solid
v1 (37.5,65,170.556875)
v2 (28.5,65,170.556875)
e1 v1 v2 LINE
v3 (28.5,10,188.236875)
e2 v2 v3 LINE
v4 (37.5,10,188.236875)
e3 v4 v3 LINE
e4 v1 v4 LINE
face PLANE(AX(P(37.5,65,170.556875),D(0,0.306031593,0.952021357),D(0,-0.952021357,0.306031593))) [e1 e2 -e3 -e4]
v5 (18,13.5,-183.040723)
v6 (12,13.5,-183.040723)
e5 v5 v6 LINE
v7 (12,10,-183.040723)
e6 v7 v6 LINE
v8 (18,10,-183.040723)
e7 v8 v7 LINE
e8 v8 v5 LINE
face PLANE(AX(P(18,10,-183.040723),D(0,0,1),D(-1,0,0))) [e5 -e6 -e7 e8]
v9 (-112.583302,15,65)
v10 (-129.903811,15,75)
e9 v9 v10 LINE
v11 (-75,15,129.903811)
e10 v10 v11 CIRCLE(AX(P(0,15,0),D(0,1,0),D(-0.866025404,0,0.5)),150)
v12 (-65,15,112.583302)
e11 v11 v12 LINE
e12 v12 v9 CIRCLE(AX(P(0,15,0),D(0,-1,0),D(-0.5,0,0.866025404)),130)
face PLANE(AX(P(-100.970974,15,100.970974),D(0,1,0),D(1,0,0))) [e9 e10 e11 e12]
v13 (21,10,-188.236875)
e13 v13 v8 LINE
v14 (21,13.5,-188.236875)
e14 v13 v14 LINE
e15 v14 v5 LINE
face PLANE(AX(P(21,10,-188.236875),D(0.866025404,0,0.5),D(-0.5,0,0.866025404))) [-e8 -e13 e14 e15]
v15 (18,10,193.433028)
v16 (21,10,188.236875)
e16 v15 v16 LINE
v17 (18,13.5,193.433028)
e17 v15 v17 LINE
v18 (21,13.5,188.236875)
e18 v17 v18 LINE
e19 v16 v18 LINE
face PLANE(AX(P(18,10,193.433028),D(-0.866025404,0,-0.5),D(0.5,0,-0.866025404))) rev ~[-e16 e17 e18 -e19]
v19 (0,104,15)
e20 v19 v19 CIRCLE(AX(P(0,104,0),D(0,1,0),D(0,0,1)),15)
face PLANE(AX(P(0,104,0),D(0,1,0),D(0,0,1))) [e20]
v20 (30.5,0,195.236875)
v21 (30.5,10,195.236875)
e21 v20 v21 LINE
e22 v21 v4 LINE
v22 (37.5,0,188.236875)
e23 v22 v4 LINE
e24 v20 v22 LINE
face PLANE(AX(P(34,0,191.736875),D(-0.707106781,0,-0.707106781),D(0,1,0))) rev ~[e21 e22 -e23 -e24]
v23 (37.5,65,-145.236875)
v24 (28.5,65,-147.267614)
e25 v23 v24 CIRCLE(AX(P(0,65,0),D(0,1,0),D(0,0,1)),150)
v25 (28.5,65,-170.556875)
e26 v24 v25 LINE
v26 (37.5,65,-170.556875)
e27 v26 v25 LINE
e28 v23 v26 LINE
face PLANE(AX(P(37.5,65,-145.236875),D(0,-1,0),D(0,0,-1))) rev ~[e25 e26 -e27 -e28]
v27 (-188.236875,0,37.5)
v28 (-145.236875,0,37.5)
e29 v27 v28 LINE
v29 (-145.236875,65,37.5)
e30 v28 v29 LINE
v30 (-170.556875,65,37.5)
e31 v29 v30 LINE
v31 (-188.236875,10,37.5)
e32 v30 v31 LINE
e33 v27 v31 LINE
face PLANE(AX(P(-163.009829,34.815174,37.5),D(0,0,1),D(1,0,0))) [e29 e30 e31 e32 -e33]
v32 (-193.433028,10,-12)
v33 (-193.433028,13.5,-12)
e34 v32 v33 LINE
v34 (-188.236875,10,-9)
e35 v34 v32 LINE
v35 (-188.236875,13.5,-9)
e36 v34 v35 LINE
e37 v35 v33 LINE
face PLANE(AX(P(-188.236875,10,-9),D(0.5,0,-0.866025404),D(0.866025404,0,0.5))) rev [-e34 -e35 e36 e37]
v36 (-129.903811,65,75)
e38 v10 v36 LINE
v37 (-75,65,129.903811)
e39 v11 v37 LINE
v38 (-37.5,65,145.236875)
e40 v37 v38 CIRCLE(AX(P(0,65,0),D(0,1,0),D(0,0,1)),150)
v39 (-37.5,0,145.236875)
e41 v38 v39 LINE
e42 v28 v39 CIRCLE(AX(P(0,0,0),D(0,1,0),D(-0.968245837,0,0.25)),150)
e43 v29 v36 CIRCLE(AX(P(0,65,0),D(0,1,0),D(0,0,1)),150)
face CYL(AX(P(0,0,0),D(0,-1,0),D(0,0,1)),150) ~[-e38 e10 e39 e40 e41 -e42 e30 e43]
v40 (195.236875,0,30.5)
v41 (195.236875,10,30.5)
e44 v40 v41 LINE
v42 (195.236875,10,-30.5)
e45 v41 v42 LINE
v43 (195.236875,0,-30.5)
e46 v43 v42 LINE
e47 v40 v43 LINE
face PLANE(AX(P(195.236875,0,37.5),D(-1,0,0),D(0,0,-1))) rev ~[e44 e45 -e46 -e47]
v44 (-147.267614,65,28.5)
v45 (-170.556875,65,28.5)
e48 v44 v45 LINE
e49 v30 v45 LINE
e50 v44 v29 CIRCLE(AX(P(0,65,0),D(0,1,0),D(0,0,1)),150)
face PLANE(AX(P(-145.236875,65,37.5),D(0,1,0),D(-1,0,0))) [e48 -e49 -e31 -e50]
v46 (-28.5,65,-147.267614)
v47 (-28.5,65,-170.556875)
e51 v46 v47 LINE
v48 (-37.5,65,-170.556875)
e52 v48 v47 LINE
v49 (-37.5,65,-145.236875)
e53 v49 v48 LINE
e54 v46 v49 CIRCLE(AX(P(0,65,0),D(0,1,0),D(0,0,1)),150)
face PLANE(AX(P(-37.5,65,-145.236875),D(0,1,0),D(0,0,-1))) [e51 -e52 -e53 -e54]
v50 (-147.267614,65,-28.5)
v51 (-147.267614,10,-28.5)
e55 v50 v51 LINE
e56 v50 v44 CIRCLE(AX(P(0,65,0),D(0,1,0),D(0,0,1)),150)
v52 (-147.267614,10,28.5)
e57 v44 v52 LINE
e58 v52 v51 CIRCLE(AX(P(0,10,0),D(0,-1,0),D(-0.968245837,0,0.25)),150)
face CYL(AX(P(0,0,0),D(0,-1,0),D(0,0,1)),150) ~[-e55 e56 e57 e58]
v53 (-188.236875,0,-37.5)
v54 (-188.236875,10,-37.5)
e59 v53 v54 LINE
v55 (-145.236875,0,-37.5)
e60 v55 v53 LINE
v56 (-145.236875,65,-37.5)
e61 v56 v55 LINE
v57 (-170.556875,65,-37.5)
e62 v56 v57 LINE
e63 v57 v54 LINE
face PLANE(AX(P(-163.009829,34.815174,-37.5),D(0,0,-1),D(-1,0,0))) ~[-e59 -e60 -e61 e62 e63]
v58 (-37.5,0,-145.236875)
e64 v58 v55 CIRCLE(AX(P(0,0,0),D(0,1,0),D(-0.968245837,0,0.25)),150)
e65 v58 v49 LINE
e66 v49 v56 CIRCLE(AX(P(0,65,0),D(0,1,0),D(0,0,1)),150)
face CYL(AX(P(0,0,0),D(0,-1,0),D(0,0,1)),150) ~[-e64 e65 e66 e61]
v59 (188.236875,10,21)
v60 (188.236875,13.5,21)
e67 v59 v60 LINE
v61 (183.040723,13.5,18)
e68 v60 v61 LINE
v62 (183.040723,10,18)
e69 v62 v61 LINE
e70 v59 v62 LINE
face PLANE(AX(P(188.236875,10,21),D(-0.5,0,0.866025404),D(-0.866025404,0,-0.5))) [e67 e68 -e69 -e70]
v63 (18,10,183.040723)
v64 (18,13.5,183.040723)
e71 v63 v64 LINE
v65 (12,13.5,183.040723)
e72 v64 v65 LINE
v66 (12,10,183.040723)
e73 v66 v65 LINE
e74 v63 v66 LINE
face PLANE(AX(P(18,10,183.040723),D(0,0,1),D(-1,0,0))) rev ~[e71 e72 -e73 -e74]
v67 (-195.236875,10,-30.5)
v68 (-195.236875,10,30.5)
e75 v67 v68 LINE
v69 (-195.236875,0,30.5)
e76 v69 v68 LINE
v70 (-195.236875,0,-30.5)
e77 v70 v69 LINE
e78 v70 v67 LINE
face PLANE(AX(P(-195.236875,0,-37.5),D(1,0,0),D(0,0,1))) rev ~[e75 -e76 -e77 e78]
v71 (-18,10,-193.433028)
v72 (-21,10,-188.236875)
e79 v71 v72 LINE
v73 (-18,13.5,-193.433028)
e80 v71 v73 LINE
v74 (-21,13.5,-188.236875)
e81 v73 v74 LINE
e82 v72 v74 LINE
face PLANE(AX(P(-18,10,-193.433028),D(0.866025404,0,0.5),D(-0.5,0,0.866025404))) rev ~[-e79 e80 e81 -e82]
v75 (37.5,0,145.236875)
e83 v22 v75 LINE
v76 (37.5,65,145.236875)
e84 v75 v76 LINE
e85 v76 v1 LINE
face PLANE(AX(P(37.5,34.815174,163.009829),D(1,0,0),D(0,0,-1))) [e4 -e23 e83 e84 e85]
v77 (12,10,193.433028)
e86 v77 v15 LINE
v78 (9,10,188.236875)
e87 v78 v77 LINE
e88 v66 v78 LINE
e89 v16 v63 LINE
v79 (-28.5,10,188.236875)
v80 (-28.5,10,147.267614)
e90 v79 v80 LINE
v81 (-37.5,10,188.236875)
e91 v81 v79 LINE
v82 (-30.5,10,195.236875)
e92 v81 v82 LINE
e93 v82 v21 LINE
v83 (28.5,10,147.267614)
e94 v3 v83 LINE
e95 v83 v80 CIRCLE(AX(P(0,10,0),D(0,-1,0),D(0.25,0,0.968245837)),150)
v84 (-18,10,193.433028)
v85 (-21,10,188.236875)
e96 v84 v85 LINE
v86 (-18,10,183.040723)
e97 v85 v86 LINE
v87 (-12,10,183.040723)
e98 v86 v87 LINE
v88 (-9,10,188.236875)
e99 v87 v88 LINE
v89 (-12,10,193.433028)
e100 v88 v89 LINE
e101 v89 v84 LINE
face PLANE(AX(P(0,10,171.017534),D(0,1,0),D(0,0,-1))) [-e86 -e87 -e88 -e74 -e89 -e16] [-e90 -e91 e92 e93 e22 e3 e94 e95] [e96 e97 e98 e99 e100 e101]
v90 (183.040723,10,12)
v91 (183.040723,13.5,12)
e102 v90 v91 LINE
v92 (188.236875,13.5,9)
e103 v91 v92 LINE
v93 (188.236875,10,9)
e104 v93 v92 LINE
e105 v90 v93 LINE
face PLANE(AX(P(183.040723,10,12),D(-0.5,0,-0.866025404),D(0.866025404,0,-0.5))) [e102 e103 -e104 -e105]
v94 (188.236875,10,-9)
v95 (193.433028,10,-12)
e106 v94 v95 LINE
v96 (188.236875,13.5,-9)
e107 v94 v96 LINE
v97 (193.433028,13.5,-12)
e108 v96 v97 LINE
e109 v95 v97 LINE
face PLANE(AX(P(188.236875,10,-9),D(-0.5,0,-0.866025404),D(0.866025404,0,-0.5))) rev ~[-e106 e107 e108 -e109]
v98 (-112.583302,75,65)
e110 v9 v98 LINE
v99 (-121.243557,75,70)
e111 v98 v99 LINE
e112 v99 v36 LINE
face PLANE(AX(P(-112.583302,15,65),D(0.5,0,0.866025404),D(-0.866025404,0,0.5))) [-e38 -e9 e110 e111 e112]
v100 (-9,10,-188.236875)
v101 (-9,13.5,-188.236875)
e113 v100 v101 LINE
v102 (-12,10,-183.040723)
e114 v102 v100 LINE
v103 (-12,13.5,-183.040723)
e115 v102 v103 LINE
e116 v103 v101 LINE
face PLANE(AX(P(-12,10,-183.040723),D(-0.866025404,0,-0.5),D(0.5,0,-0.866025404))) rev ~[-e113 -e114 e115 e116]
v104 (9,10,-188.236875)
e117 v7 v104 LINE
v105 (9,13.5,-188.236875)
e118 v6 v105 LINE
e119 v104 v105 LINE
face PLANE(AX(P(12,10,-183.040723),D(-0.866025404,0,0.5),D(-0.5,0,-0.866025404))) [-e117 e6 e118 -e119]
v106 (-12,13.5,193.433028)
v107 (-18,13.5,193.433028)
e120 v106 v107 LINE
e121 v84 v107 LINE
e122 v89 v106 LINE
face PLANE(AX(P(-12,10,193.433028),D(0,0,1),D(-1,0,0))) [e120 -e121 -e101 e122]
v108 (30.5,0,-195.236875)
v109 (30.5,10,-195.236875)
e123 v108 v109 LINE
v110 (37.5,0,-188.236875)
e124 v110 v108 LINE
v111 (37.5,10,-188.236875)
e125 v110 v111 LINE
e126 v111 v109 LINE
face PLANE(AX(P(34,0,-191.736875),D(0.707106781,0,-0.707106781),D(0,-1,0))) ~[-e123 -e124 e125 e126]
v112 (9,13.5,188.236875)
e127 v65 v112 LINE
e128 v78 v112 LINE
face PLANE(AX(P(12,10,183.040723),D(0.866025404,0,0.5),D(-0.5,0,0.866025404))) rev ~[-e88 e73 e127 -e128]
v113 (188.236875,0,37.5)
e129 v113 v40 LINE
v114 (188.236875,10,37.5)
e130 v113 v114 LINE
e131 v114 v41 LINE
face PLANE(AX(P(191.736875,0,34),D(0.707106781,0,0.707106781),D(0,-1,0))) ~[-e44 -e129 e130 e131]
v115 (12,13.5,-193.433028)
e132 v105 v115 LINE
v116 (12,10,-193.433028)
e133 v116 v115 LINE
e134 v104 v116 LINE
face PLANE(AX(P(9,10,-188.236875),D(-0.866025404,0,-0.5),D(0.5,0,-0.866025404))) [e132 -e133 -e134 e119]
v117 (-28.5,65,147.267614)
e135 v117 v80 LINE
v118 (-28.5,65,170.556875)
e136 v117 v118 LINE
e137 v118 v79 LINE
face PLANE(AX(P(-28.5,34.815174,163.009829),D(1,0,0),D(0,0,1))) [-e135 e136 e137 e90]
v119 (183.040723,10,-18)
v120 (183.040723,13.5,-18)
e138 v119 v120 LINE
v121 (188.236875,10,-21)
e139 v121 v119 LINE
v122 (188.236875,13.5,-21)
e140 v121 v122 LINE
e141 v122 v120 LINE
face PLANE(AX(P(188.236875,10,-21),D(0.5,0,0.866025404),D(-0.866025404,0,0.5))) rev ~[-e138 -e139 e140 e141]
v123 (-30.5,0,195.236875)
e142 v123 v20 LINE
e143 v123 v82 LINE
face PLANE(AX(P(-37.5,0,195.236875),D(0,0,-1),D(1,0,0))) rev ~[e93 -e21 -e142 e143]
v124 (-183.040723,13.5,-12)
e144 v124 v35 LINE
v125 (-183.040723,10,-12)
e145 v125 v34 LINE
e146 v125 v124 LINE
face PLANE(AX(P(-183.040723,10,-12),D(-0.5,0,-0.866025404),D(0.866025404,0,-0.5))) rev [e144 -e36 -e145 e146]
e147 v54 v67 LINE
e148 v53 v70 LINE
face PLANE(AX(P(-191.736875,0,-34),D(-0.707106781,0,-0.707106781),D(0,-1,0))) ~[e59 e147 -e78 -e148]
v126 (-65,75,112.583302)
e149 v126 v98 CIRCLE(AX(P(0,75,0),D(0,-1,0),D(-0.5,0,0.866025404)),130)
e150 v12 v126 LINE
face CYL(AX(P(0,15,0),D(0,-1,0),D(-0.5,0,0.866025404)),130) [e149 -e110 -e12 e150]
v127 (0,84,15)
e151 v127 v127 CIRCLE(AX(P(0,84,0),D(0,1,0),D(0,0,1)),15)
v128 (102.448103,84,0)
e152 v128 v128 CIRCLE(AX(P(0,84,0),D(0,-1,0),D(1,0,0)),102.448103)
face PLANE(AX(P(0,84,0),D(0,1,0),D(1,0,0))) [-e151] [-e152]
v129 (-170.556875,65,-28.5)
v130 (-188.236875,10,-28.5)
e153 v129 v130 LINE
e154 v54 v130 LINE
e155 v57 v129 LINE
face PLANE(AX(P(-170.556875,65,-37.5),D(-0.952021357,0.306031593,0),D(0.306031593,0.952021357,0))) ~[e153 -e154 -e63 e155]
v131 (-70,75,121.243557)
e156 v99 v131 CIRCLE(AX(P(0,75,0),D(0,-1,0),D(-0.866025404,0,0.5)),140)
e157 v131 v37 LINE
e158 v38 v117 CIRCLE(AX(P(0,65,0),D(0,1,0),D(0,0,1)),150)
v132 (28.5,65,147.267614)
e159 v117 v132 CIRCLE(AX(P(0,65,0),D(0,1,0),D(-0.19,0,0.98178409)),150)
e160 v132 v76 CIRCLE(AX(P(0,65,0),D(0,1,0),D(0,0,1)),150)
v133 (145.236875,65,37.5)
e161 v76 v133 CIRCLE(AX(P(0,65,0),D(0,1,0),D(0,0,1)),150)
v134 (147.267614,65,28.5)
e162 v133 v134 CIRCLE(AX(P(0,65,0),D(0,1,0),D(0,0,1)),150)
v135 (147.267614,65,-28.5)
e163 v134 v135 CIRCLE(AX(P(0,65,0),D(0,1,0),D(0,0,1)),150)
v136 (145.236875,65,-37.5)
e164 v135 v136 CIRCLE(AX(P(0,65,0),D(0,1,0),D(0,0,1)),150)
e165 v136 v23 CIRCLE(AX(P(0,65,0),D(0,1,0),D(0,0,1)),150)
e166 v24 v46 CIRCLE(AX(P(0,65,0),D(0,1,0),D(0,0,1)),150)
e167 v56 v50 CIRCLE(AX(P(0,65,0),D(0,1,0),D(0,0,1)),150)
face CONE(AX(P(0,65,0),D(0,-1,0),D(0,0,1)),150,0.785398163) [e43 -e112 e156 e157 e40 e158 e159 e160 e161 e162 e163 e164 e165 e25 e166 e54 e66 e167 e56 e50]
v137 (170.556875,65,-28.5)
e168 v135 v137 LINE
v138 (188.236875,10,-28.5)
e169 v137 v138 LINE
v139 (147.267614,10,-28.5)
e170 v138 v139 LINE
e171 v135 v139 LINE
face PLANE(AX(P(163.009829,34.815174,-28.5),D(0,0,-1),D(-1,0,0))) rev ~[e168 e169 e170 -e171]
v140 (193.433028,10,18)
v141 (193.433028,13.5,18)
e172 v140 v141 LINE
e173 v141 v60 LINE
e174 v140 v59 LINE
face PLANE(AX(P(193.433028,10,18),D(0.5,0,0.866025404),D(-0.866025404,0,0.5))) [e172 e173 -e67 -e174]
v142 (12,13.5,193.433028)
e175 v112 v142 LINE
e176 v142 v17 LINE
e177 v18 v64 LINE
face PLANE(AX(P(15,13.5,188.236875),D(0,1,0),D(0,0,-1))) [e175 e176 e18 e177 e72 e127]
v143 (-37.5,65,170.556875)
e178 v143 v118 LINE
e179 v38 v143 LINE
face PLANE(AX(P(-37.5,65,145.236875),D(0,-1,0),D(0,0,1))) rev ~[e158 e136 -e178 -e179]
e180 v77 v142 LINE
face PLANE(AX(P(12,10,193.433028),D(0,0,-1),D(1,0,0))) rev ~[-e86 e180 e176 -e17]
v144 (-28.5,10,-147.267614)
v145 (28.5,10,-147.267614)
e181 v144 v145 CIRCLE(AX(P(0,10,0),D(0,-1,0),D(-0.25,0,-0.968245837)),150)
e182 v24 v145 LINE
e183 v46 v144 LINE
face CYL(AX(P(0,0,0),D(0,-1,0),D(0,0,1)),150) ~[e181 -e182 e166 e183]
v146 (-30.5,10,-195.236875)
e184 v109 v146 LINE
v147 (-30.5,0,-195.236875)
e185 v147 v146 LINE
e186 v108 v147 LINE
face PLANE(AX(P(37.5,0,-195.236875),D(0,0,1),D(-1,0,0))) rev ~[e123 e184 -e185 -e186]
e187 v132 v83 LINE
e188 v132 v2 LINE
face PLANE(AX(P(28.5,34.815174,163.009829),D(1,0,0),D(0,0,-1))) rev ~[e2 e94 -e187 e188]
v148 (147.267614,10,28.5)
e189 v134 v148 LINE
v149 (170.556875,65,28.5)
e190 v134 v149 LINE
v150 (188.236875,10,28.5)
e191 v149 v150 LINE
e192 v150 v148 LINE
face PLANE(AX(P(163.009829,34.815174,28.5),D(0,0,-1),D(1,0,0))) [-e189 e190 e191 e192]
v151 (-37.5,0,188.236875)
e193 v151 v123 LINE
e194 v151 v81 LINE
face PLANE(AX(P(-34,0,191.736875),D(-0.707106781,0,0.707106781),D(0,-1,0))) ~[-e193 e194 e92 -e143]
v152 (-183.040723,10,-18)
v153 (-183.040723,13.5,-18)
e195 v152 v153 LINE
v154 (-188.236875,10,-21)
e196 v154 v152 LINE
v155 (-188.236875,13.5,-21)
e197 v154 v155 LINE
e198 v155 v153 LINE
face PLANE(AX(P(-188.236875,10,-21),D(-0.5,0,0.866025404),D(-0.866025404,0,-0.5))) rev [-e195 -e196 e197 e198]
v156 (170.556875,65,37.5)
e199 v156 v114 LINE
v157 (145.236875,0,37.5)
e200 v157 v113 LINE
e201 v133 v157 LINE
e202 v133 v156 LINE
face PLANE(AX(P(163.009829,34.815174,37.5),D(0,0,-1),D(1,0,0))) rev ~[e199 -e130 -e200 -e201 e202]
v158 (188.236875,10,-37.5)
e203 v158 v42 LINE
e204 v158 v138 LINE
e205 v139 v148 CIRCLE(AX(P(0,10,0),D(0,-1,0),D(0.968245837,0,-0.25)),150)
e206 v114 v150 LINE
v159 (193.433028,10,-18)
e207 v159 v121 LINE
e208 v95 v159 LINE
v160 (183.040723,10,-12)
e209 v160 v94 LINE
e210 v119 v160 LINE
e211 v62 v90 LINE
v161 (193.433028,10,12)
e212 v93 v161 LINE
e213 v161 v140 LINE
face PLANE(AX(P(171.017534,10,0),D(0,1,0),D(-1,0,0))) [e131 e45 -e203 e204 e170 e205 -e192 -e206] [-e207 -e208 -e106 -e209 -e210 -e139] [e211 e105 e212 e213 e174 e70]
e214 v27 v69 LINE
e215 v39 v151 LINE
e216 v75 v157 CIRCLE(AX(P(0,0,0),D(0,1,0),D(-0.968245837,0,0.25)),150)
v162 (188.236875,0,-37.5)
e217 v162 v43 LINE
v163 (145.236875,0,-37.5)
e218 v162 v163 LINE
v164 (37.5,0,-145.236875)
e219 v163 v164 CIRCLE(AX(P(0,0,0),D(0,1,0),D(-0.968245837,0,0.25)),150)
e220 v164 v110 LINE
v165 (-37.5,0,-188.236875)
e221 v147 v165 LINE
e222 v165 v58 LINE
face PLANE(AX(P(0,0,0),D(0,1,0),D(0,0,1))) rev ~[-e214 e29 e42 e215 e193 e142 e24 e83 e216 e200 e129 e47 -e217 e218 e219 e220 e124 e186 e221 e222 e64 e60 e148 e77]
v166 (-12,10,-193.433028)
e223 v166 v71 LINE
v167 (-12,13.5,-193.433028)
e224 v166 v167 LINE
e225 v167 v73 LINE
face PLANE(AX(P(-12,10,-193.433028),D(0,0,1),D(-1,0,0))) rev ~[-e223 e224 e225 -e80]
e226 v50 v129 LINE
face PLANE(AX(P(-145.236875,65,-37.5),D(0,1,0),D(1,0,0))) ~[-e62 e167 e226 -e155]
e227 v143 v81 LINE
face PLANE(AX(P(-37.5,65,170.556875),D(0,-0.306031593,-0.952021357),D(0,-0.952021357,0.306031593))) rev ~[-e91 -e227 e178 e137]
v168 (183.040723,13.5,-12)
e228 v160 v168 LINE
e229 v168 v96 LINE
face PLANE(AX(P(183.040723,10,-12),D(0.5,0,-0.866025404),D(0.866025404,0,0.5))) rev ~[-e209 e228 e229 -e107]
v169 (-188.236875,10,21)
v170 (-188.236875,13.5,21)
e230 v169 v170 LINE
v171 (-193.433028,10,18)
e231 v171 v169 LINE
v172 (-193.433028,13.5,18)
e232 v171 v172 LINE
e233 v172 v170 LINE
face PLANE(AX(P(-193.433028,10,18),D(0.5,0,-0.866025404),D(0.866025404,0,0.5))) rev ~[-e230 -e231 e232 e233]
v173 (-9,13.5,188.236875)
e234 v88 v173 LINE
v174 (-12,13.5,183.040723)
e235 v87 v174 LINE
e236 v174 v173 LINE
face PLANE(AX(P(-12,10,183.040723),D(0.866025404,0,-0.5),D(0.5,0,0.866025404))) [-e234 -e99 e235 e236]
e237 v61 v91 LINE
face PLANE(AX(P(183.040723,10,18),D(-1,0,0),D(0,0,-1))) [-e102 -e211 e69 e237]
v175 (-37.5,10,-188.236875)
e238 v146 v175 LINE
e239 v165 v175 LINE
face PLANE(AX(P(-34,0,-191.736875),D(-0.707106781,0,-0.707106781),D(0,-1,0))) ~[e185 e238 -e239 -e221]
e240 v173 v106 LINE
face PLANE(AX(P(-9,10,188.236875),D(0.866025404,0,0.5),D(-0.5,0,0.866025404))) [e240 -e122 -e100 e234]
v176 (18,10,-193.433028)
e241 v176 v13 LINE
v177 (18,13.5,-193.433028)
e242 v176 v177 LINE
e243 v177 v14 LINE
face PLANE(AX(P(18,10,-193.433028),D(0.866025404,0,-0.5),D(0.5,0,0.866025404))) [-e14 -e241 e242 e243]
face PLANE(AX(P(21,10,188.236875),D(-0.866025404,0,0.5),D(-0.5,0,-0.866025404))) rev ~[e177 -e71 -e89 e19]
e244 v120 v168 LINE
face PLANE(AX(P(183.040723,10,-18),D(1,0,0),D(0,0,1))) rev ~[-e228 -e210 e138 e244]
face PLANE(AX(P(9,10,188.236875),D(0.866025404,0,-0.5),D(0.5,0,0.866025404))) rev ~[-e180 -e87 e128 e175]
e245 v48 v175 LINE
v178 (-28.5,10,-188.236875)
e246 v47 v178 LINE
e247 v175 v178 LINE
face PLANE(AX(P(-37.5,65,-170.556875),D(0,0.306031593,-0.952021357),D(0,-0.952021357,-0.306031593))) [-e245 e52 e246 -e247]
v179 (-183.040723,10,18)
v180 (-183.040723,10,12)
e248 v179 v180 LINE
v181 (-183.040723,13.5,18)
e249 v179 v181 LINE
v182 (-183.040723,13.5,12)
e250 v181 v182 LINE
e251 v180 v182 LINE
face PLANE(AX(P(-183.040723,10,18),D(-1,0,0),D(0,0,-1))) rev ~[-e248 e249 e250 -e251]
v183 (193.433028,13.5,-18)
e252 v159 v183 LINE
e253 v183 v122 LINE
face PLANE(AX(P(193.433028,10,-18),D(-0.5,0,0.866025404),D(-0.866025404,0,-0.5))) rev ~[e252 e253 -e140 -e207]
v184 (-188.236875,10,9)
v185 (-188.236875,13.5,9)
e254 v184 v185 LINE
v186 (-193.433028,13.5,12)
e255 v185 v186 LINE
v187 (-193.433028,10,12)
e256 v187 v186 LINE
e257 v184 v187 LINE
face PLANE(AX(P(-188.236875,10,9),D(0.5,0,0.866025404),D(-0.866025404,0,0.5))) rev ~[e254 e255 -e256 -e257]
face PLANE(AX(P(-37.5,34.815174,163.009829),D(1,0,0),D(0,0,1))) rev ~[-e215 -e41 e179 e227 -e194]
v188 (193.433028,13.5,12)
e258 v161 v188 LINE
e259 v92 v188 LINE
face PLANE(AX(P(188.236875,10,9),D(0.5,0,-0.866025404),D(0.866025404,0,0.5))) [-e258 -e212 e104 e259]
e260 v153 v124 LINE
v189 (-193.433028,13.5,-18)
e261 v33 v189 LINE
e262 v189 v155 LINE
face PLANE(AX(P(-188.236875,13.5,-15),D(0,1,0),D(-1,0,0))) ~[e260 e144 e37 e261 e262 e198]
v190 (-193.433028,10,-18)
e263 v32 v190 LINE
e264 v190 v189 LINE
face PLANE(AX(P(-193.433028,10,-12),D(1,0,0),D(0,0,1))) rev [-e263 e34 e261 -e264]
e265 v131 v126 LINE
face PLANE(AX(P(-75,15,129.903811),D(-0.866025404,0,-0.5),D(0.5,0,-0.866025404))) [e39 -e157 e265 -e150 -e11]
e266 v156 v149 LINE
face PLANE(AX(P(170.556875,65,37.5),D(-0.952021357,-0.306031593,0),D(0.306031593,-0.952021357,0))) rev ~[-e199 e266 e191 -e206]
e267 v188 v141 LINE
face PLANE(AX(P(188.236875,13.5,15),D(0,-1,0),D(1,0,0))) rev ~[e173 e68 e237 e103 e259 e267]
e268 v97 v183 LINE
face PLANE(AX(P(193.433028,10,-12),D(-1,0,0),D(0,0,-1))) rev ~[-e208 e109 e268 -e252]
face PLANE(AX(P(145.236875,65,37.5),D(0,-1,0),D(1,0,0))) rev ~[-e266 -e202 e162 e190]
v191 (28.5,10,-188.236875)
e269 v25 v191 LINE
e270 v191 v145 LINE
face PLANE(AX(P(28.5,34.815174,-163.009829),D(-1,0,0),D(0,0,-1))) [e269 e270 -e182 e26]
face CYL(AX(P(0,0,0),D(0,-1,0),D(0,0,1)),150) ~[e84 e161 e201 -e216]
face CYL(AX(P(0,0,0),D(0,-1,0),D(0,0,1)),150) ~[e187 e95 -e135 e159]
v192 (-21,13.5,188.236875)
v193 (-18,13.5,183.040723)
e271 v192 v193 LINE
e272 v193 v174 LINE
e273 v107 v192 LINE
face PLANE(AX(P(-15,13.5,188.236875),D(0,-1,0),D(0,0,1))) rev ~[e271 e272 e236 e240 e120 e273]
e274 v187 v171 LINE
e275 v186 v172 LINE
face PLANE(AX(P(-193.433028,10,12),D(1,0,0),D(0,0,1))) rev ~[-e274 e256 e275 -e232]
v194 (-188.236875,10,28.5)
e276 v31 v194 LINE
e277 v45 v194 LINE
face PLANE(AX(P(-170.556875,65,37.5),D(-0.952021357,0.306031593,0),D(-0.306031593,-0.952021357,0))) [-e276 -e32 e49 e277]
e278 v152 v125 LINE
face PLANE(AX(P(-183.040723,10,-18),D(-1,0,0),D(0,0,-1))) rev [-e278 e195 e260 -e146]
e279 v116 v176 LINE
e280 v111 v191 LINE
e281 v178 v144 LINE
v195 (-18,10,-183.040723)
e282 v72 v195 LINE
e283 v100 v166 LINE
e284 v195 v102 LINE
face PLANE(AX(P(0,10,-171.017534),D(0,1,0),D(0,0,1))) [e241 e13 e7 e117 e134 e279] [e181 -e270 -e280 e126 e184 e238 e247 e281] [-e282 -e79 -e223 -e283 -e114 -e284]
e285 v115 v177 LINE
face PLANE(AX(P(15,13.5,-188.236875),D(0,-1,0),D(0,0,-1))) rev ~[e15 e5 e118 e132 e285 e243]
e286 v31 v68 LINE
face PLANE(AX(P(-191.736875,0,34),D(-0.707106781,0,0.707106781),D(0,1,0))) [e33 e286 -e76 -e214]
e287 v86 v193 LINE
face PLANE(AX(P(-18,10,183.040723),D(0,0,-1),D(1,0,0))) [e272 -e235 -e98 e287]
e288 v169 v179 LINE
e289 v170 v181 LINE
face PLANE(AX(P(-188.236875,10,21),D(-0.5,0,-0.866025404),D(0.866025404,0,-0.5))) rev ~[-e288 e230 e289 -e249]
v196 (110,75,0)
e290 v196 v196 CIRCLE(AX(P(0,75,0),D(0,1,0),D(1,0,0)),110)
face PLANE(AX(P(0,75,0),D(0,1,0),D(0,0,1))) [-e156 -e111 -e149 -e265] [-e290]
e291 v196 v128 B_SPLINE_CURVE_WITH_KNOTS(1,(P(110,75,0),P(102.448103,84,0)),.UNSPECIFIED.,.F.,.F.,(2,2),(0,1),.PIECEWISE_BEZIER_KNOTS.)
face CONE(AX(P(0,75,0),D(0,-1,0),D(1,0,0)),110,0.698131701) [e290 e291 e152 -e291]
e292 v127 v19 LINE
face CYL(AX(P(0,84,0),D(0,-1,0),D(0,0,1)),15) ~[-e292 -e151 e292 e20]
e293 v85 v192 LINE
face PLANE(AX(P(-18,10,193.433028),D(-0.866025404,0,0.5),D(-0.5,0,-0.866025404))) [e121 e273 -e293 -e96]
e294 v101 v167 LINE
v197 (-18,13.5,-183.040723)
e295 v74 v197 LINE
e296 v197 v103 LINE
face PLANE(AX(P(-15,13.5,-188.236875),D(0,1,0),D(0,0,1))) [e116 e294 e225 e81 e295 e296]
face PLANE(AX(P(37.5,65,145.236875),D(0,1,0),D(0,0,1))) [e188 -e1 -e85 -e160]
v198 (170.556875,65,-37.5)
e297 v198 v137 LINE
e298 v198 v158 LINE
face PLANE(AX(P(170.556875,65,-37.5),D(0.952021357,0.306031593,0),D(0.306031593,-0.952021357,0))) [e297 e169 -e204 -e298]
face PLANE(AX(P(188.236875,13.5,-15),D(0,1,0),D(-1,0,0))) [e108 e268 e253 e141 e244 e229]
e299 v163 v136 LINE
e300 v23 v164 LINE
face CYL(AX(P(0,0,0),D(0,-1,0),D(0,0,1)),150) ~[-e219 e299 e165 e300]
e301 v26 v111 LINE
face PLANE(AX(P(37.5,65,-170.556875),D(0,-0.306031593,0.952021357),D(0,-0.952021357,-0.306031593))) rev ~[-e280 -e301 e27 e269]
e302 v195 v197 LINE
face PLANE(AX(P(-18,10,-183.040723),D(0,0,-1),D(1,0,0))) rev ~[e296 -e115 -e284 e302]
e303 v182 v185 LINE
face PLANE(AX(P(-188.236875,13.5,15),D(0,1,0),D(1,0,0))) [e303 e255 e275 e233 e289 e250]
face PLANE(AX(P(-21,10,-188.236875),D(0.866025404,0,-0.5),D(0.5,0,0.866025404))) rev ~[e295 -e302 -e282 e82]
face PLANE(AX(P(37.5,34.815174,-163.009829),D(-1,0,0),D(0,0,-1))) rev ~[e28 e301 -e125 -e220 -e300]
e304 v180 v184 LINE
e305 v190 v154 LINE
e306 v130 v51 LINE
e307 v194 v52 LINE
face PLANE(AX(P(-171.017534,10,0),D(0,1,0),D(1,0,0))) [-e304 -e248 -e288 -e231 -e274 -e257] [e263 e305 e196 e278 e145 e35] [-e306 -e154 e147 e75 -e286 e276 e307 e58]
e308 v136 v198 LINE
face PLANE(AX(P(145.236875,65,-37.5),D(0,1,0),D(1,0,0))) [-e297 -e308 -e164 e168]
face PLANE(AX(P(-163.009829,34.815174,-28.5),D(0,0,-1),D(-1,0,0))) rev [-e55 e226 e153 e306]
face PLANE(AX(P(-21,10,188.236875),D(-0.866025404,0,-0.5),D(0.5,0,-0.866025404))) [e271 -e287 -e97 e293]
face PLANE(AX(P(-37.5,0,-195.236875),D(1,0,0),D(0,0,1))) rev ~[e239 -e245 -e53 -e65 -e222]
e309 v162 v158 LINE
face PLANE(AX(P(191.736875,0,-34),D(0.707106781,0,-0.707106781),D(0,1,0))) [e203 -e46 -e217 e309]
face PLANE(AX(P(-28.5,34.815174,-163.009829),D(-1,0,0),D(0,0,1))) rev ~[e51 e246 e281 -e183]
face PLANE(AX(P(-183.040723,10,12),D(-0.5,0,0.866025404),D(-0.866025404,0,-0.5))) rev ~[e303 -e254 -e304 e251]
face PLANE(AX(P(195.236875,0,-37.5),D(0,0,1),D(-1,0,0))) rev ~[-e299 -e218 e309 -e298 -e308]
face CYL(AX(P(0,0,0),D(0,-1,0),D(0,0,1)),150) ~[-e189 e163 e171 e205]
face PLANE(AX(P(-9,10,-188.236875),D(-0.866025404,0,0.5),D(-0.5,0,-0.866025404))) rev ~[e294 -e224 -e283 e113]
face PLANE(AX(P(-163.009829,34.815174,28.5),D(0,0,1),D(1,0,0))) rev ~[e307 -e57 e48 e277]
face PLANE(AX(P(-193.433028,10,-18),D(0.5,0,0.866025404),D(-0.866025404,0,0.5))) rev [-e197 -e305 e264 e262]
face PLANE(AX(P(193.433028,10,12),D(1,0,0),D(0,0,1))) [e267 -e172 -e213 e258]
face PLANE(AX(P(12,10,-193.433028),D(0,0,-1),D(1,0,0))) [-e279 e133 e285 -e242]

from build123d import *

# Parameters (mm, degrees)
SKETCH1_R                    = 150
BOSS_EXTRUDE1_DEPTH          = 75
CHAMFER1_SIZE                = 10
BOSS_EXTRUDE2_START          = -75
BOSS_EXTRUDE2_DEPTH          = 10
CHAMFER2_SIZE                = 7
BOSS_EXTRUDE3_DEPTH          = 9
BOSS_EXTRUDE4_DEPTH          = 3.5
CIRPATTERN1_COUNT            = 4
CIRPATTERN1_COPY_1_DEPTH     = 9
CIRPATTERN1_COPY_2_DEPTH     = 9
CIRPATTERN1_COPY_3_DEPTH     = 9
CIRPATTERN1_COPY_4_DEPTH     = 3.5
CIRPATTERN1_COPY_5_DEPTH     = 3.5
CIRPATTERN1_COPY_6_DEPTH     = 3.5
CHAMFER2_OF_CIRPATTERN1_SIZE = 7
CUT_EXTRUDE1_START           = -60
CUT_EXTRUDE1_DEPTH           = 60
SKETCH6_R                    = 110
BOSS_EXTRUDE5_DEPTH          = 9
BOSS_EXTRUDE5_TAPER          = 40
SKETCH7_R                    = 15
BOSS_EXTRUDE6_DEPTH          = 20


with BuildPart() as part:
    # Sketch1 → Boss-Extrude1 (new body)
    with BuildSketch(Plane(origin=(0, 0, 0), x_dir=(1, 0, 0), z_dir=(0, 1, 0))):
        with Locations(Location((0, 0, 0), (0, 0, 270))):
            Circle(SKETCH1_R)
    extrude(amount=BOSS_EXTRUDE1_DEPTH)

    # Chamfer1
    chamfer1_edges = [part.edges().sort_by_distance(p)[0] for p in [
        (0, 75, -150),
    ]]
    chamfer(chamfer1_edges, length=CHAMFER1_SIZE)

    # Sketch2 → Boss-Extrude2 (add)
    with BuildSketch(Plane(origin=(0, 75, 0), x_dir=(1, 0, 0), z_dir=(0, 1, 0)).offset(BOSS_EXTRUDE2_START)):
        with BuildLine():
            Line((-145.236875483, 37.5), (-195.236875483, 37.5))
            Line((-195.236875483, 37.5), (-195.236875483, -37.5))
            Line((-195.236875483, -37.5), (-145.236875483, -37.5))
            ThreePointArc((-145.236875483, -37.5), (-150, 0), (-145.236875483, 37.5))
        make_face()
    boss_extrude2 = extrude(amount=BOSS_EXTRUDE2_DEPTH)

    # Chamfer2
    chamfer2_edges = [part.edges().sort_by_distance(p)[0] for p in [
        (-195.236875483, 5, -37.5),
        (-195.236875483, 5, 37.5),
    ]]
    chamfer(chamfer2_edges, length=CHAMFER2_SIZE)

    # Sketch3 → Boss-Extrude3 (add)
    with BuildSketch(Plane.XY.offset(37.5)):
        Polygon((-145.236875483, 10), (-145.236875483, 65), (-170.556875483, 65), (-188.236875483, 10), align=None)
    boss_extrude3 = extrude(amount=-BOSS_EXTRUDE3_DEPTH)

    # Sketch4 → Boss-Extrude4 (add)
    with BuildSketch(Plane(origin=(0, 10, 0), x_dir=(1, 0, 0), z_dir=(0, 1, 0))):
        Polygon((-188.236875483, -21), (-183.04072306, -18), (-183.04072306, -12), (-188.236875483, -9), (-193.433027905, -12), (-193.433027905, -18), align=None)
    boss_extrude4 = extrude(amount=BOSS_EXTRUDE4_DEPTH)

    # Mirror1: Boss-Extrude3, Boss-Extrude4 across plane
    add(boss_extrude3.mirror(Plane.XY))
    add(boss_extrude4.mirror(Plane.XY))

    # CirPattern1: Boss-Extrude2, Boss-Extrude3, Boss-Extrude4 ×4 about axis
    cirpattern1_axis = Axis((0, 0, 0), (0, 1, 0))
    add([boss_extrude2.rotate(cirpattern1_axis, i * 360 / CIRPATTERN1_COUNT) for i in range(1, CIRPATTERN1_COUNT)])
    add([boss_extrude3.rotate(cirpattern1_axis, i * 360 / CIRPATTERN1_COUNT) for i in range(1, CIRPATTERN1_COUNT)])
    add([boss_extrude4.rotate(cirpattern1_axis, i * 360 / CIRPATTERN1_COUNT) for i in range(1, CIRPATTERN1_COUNT)])

    # CirPattern1 copy 1 sketch → CirPattern1 copy 1 (add)
    with BuildSketch(Plane(origin=(-37.5, 0, 0), x_dir=(0, 0, -1), z_dir=(-1, 0, 0))):
        Polygon((-145.236875483, -10), (-145.236875483, -65), (-170.556875483, -65), (-188.236875483, -10), align=None)
    extrude(amount=-CIRPATTERN1_COPY_1_DEPTH)

    # CirPattern1 copy 2 sketch → CirPattern1 copy 2 (add)
    with BuildSketch(Plane(origin=(0, 0, 37.5), x_dir=(-1, 0, 0), z_dir=(0, 0, 1))):
        Polygon((-145.236875483, -10), (-145.236875483, -65), (-170.556875483, -65), (-188.236875483, -10), align=None)
    extrude(amount=-CIRPATTERN1_COPY_2_DEPTH)

    # CirPattern1 copy 3 sketch → CirPattern1 copy 3 (add)
    with BuildSketch(Plane(origin=(37.5, 0, 0), x_dir=(0, 0, 1), z_dir=(1, 0, 0))):
        Polygon((-145.236875483, -10), (-145.236875483, -65), (-170.556875483, -65), (-188.236875483, -10), align=None)
    extrude(amount=-CIRPATTERN1_COPY_3_DEPTH)

    # CirPattern1 copy 4 sketch → CirPattern1 copy 4 (add)
    with BuildSketch(Plane(origin=(0, 10, 0), x_dir=(0, 0, -1), z_dir=(0, 1, 0))):
        Polygon((-188.236875483, 21), (-183.04072306, 18), (-183.04072306, 12), (-188.236875483, 9), (-193.433027905, 12), (-193.433027905, 18), align=None)
    extrude(amount=CIRPATTERN1_COPY_4_DEPTH)

    # CirPattern1 copy 5 sketch → CirPattern1 copy 5 (add)
    with BuildSketch(Plane(origin=(0, 10, 0), x_dir=(-1, 0, 0), z_dir=(0, 1, 0))):
        Polygon((-188.236875483, 21), (-183.04072306, 18), (-183.04072306, 12), (-188.236875483, 9), (-193.433027905, 12), (-193.433027905, 18), align=None)
    extrude(amount=CIRPATTERN1_COPY_5_DEPTH)

    # CirPattern1 copy 6 sketch → CirPattern1 copy 6 (add)
    with BuildSketch(Plane.ZX.offset(10)):
        Polygon((-188.236875483, 21), (-183.04072306, 18), (-183.04072306, 12), (-188.236875483, 9), (-193.433027905, 12), (-193.433027905, 18), align=None)
    extrude(amount=CIRPATTERN1_COPY_6_DEPTH)

    # Chamfer2 of CirPattern1
    chamfer2_of_cirpattern1_edges = [part.edges().sort_by_distance(p)[0] for p in [
        (-37.5, 5, 195.236875483),
        (37.5, 5, 195.236875483),
        (195.236875483, 5, 37.5),
        (195.236875483, 5, -37.5),
        (37.5, 5, -195.236875483),
        (-37.5, 5, -195.236875483),
    ]]
    chamfer(chamfer2_of_cirpattern1_edges, length=CHAMFER2_OF_CIRPATTERN1_SIZE)

    # Sketch5 → Cut-Extrude1 (cut)
    with BuildSketch(Plane(origin=(0, 75, 0), x_dir=(1, 0, 0), z_dir=(0, 1, 0)).offset(CUT_EXTRUDE1_START)):
        with BuildLine():
            ThreePointArc((-70, -121.24355653), (-98.994949366, -98.994949366), (-121.24355653, -70))
            Line((-121.24355653, -70), (-129.903810568, -75))
            ThreePointArc((-129.903810568, -75), (-106.066017178, -106.066017178), (-75, -129.903810568))
            Line((-75, -129.903810568), (-70, -121.24355653))
        make_face()
        with BuildLine():
            ThreePointArc((-65, -112.583302492), (-91.923881554, -91.923881554), (-112.583302492, -65))
            Line((-112.583302492, -65), (-121.24355653, -70))
            ThreePointArc((-121.24355653, -70), (-98.994949366, -98.994949366), (-70, -121.24355653))
            Line((-70, -121.24355653), (-65, -112.583302492))
        make_face()
    extrude(amount=CUT_EXTRUDE1_DEPTH, mode=Mode.SUBTRACT)

    # Sketch6 → Boss-Extrude5 (add)
    with BuildSketch(Plane(origin=(0, 75, 0), x_dir=(1, 0, 0), z_dir=(0, 1, 0))):
        Circle(SKETCH6_R)
    extrude(amount=BOSS_EXTRUDE5_DEPTH, taper=BOSS_EXTRUDE5_TAPER)

    # Sketch7 → Boss-Extrude6 (add)
    with BuildSketch(Plane(origin=(0, 84, 0), x_dir=(1, 0, 0), z_dir=(0, 1, 0))):
        with Locations(Location((0, 0, 0), (0, 0, 270))):
            Circle(SKETCH7_R)
    extrude(amount=BOSS_EXTRUDE6_DEPTH)


solid = part.part
